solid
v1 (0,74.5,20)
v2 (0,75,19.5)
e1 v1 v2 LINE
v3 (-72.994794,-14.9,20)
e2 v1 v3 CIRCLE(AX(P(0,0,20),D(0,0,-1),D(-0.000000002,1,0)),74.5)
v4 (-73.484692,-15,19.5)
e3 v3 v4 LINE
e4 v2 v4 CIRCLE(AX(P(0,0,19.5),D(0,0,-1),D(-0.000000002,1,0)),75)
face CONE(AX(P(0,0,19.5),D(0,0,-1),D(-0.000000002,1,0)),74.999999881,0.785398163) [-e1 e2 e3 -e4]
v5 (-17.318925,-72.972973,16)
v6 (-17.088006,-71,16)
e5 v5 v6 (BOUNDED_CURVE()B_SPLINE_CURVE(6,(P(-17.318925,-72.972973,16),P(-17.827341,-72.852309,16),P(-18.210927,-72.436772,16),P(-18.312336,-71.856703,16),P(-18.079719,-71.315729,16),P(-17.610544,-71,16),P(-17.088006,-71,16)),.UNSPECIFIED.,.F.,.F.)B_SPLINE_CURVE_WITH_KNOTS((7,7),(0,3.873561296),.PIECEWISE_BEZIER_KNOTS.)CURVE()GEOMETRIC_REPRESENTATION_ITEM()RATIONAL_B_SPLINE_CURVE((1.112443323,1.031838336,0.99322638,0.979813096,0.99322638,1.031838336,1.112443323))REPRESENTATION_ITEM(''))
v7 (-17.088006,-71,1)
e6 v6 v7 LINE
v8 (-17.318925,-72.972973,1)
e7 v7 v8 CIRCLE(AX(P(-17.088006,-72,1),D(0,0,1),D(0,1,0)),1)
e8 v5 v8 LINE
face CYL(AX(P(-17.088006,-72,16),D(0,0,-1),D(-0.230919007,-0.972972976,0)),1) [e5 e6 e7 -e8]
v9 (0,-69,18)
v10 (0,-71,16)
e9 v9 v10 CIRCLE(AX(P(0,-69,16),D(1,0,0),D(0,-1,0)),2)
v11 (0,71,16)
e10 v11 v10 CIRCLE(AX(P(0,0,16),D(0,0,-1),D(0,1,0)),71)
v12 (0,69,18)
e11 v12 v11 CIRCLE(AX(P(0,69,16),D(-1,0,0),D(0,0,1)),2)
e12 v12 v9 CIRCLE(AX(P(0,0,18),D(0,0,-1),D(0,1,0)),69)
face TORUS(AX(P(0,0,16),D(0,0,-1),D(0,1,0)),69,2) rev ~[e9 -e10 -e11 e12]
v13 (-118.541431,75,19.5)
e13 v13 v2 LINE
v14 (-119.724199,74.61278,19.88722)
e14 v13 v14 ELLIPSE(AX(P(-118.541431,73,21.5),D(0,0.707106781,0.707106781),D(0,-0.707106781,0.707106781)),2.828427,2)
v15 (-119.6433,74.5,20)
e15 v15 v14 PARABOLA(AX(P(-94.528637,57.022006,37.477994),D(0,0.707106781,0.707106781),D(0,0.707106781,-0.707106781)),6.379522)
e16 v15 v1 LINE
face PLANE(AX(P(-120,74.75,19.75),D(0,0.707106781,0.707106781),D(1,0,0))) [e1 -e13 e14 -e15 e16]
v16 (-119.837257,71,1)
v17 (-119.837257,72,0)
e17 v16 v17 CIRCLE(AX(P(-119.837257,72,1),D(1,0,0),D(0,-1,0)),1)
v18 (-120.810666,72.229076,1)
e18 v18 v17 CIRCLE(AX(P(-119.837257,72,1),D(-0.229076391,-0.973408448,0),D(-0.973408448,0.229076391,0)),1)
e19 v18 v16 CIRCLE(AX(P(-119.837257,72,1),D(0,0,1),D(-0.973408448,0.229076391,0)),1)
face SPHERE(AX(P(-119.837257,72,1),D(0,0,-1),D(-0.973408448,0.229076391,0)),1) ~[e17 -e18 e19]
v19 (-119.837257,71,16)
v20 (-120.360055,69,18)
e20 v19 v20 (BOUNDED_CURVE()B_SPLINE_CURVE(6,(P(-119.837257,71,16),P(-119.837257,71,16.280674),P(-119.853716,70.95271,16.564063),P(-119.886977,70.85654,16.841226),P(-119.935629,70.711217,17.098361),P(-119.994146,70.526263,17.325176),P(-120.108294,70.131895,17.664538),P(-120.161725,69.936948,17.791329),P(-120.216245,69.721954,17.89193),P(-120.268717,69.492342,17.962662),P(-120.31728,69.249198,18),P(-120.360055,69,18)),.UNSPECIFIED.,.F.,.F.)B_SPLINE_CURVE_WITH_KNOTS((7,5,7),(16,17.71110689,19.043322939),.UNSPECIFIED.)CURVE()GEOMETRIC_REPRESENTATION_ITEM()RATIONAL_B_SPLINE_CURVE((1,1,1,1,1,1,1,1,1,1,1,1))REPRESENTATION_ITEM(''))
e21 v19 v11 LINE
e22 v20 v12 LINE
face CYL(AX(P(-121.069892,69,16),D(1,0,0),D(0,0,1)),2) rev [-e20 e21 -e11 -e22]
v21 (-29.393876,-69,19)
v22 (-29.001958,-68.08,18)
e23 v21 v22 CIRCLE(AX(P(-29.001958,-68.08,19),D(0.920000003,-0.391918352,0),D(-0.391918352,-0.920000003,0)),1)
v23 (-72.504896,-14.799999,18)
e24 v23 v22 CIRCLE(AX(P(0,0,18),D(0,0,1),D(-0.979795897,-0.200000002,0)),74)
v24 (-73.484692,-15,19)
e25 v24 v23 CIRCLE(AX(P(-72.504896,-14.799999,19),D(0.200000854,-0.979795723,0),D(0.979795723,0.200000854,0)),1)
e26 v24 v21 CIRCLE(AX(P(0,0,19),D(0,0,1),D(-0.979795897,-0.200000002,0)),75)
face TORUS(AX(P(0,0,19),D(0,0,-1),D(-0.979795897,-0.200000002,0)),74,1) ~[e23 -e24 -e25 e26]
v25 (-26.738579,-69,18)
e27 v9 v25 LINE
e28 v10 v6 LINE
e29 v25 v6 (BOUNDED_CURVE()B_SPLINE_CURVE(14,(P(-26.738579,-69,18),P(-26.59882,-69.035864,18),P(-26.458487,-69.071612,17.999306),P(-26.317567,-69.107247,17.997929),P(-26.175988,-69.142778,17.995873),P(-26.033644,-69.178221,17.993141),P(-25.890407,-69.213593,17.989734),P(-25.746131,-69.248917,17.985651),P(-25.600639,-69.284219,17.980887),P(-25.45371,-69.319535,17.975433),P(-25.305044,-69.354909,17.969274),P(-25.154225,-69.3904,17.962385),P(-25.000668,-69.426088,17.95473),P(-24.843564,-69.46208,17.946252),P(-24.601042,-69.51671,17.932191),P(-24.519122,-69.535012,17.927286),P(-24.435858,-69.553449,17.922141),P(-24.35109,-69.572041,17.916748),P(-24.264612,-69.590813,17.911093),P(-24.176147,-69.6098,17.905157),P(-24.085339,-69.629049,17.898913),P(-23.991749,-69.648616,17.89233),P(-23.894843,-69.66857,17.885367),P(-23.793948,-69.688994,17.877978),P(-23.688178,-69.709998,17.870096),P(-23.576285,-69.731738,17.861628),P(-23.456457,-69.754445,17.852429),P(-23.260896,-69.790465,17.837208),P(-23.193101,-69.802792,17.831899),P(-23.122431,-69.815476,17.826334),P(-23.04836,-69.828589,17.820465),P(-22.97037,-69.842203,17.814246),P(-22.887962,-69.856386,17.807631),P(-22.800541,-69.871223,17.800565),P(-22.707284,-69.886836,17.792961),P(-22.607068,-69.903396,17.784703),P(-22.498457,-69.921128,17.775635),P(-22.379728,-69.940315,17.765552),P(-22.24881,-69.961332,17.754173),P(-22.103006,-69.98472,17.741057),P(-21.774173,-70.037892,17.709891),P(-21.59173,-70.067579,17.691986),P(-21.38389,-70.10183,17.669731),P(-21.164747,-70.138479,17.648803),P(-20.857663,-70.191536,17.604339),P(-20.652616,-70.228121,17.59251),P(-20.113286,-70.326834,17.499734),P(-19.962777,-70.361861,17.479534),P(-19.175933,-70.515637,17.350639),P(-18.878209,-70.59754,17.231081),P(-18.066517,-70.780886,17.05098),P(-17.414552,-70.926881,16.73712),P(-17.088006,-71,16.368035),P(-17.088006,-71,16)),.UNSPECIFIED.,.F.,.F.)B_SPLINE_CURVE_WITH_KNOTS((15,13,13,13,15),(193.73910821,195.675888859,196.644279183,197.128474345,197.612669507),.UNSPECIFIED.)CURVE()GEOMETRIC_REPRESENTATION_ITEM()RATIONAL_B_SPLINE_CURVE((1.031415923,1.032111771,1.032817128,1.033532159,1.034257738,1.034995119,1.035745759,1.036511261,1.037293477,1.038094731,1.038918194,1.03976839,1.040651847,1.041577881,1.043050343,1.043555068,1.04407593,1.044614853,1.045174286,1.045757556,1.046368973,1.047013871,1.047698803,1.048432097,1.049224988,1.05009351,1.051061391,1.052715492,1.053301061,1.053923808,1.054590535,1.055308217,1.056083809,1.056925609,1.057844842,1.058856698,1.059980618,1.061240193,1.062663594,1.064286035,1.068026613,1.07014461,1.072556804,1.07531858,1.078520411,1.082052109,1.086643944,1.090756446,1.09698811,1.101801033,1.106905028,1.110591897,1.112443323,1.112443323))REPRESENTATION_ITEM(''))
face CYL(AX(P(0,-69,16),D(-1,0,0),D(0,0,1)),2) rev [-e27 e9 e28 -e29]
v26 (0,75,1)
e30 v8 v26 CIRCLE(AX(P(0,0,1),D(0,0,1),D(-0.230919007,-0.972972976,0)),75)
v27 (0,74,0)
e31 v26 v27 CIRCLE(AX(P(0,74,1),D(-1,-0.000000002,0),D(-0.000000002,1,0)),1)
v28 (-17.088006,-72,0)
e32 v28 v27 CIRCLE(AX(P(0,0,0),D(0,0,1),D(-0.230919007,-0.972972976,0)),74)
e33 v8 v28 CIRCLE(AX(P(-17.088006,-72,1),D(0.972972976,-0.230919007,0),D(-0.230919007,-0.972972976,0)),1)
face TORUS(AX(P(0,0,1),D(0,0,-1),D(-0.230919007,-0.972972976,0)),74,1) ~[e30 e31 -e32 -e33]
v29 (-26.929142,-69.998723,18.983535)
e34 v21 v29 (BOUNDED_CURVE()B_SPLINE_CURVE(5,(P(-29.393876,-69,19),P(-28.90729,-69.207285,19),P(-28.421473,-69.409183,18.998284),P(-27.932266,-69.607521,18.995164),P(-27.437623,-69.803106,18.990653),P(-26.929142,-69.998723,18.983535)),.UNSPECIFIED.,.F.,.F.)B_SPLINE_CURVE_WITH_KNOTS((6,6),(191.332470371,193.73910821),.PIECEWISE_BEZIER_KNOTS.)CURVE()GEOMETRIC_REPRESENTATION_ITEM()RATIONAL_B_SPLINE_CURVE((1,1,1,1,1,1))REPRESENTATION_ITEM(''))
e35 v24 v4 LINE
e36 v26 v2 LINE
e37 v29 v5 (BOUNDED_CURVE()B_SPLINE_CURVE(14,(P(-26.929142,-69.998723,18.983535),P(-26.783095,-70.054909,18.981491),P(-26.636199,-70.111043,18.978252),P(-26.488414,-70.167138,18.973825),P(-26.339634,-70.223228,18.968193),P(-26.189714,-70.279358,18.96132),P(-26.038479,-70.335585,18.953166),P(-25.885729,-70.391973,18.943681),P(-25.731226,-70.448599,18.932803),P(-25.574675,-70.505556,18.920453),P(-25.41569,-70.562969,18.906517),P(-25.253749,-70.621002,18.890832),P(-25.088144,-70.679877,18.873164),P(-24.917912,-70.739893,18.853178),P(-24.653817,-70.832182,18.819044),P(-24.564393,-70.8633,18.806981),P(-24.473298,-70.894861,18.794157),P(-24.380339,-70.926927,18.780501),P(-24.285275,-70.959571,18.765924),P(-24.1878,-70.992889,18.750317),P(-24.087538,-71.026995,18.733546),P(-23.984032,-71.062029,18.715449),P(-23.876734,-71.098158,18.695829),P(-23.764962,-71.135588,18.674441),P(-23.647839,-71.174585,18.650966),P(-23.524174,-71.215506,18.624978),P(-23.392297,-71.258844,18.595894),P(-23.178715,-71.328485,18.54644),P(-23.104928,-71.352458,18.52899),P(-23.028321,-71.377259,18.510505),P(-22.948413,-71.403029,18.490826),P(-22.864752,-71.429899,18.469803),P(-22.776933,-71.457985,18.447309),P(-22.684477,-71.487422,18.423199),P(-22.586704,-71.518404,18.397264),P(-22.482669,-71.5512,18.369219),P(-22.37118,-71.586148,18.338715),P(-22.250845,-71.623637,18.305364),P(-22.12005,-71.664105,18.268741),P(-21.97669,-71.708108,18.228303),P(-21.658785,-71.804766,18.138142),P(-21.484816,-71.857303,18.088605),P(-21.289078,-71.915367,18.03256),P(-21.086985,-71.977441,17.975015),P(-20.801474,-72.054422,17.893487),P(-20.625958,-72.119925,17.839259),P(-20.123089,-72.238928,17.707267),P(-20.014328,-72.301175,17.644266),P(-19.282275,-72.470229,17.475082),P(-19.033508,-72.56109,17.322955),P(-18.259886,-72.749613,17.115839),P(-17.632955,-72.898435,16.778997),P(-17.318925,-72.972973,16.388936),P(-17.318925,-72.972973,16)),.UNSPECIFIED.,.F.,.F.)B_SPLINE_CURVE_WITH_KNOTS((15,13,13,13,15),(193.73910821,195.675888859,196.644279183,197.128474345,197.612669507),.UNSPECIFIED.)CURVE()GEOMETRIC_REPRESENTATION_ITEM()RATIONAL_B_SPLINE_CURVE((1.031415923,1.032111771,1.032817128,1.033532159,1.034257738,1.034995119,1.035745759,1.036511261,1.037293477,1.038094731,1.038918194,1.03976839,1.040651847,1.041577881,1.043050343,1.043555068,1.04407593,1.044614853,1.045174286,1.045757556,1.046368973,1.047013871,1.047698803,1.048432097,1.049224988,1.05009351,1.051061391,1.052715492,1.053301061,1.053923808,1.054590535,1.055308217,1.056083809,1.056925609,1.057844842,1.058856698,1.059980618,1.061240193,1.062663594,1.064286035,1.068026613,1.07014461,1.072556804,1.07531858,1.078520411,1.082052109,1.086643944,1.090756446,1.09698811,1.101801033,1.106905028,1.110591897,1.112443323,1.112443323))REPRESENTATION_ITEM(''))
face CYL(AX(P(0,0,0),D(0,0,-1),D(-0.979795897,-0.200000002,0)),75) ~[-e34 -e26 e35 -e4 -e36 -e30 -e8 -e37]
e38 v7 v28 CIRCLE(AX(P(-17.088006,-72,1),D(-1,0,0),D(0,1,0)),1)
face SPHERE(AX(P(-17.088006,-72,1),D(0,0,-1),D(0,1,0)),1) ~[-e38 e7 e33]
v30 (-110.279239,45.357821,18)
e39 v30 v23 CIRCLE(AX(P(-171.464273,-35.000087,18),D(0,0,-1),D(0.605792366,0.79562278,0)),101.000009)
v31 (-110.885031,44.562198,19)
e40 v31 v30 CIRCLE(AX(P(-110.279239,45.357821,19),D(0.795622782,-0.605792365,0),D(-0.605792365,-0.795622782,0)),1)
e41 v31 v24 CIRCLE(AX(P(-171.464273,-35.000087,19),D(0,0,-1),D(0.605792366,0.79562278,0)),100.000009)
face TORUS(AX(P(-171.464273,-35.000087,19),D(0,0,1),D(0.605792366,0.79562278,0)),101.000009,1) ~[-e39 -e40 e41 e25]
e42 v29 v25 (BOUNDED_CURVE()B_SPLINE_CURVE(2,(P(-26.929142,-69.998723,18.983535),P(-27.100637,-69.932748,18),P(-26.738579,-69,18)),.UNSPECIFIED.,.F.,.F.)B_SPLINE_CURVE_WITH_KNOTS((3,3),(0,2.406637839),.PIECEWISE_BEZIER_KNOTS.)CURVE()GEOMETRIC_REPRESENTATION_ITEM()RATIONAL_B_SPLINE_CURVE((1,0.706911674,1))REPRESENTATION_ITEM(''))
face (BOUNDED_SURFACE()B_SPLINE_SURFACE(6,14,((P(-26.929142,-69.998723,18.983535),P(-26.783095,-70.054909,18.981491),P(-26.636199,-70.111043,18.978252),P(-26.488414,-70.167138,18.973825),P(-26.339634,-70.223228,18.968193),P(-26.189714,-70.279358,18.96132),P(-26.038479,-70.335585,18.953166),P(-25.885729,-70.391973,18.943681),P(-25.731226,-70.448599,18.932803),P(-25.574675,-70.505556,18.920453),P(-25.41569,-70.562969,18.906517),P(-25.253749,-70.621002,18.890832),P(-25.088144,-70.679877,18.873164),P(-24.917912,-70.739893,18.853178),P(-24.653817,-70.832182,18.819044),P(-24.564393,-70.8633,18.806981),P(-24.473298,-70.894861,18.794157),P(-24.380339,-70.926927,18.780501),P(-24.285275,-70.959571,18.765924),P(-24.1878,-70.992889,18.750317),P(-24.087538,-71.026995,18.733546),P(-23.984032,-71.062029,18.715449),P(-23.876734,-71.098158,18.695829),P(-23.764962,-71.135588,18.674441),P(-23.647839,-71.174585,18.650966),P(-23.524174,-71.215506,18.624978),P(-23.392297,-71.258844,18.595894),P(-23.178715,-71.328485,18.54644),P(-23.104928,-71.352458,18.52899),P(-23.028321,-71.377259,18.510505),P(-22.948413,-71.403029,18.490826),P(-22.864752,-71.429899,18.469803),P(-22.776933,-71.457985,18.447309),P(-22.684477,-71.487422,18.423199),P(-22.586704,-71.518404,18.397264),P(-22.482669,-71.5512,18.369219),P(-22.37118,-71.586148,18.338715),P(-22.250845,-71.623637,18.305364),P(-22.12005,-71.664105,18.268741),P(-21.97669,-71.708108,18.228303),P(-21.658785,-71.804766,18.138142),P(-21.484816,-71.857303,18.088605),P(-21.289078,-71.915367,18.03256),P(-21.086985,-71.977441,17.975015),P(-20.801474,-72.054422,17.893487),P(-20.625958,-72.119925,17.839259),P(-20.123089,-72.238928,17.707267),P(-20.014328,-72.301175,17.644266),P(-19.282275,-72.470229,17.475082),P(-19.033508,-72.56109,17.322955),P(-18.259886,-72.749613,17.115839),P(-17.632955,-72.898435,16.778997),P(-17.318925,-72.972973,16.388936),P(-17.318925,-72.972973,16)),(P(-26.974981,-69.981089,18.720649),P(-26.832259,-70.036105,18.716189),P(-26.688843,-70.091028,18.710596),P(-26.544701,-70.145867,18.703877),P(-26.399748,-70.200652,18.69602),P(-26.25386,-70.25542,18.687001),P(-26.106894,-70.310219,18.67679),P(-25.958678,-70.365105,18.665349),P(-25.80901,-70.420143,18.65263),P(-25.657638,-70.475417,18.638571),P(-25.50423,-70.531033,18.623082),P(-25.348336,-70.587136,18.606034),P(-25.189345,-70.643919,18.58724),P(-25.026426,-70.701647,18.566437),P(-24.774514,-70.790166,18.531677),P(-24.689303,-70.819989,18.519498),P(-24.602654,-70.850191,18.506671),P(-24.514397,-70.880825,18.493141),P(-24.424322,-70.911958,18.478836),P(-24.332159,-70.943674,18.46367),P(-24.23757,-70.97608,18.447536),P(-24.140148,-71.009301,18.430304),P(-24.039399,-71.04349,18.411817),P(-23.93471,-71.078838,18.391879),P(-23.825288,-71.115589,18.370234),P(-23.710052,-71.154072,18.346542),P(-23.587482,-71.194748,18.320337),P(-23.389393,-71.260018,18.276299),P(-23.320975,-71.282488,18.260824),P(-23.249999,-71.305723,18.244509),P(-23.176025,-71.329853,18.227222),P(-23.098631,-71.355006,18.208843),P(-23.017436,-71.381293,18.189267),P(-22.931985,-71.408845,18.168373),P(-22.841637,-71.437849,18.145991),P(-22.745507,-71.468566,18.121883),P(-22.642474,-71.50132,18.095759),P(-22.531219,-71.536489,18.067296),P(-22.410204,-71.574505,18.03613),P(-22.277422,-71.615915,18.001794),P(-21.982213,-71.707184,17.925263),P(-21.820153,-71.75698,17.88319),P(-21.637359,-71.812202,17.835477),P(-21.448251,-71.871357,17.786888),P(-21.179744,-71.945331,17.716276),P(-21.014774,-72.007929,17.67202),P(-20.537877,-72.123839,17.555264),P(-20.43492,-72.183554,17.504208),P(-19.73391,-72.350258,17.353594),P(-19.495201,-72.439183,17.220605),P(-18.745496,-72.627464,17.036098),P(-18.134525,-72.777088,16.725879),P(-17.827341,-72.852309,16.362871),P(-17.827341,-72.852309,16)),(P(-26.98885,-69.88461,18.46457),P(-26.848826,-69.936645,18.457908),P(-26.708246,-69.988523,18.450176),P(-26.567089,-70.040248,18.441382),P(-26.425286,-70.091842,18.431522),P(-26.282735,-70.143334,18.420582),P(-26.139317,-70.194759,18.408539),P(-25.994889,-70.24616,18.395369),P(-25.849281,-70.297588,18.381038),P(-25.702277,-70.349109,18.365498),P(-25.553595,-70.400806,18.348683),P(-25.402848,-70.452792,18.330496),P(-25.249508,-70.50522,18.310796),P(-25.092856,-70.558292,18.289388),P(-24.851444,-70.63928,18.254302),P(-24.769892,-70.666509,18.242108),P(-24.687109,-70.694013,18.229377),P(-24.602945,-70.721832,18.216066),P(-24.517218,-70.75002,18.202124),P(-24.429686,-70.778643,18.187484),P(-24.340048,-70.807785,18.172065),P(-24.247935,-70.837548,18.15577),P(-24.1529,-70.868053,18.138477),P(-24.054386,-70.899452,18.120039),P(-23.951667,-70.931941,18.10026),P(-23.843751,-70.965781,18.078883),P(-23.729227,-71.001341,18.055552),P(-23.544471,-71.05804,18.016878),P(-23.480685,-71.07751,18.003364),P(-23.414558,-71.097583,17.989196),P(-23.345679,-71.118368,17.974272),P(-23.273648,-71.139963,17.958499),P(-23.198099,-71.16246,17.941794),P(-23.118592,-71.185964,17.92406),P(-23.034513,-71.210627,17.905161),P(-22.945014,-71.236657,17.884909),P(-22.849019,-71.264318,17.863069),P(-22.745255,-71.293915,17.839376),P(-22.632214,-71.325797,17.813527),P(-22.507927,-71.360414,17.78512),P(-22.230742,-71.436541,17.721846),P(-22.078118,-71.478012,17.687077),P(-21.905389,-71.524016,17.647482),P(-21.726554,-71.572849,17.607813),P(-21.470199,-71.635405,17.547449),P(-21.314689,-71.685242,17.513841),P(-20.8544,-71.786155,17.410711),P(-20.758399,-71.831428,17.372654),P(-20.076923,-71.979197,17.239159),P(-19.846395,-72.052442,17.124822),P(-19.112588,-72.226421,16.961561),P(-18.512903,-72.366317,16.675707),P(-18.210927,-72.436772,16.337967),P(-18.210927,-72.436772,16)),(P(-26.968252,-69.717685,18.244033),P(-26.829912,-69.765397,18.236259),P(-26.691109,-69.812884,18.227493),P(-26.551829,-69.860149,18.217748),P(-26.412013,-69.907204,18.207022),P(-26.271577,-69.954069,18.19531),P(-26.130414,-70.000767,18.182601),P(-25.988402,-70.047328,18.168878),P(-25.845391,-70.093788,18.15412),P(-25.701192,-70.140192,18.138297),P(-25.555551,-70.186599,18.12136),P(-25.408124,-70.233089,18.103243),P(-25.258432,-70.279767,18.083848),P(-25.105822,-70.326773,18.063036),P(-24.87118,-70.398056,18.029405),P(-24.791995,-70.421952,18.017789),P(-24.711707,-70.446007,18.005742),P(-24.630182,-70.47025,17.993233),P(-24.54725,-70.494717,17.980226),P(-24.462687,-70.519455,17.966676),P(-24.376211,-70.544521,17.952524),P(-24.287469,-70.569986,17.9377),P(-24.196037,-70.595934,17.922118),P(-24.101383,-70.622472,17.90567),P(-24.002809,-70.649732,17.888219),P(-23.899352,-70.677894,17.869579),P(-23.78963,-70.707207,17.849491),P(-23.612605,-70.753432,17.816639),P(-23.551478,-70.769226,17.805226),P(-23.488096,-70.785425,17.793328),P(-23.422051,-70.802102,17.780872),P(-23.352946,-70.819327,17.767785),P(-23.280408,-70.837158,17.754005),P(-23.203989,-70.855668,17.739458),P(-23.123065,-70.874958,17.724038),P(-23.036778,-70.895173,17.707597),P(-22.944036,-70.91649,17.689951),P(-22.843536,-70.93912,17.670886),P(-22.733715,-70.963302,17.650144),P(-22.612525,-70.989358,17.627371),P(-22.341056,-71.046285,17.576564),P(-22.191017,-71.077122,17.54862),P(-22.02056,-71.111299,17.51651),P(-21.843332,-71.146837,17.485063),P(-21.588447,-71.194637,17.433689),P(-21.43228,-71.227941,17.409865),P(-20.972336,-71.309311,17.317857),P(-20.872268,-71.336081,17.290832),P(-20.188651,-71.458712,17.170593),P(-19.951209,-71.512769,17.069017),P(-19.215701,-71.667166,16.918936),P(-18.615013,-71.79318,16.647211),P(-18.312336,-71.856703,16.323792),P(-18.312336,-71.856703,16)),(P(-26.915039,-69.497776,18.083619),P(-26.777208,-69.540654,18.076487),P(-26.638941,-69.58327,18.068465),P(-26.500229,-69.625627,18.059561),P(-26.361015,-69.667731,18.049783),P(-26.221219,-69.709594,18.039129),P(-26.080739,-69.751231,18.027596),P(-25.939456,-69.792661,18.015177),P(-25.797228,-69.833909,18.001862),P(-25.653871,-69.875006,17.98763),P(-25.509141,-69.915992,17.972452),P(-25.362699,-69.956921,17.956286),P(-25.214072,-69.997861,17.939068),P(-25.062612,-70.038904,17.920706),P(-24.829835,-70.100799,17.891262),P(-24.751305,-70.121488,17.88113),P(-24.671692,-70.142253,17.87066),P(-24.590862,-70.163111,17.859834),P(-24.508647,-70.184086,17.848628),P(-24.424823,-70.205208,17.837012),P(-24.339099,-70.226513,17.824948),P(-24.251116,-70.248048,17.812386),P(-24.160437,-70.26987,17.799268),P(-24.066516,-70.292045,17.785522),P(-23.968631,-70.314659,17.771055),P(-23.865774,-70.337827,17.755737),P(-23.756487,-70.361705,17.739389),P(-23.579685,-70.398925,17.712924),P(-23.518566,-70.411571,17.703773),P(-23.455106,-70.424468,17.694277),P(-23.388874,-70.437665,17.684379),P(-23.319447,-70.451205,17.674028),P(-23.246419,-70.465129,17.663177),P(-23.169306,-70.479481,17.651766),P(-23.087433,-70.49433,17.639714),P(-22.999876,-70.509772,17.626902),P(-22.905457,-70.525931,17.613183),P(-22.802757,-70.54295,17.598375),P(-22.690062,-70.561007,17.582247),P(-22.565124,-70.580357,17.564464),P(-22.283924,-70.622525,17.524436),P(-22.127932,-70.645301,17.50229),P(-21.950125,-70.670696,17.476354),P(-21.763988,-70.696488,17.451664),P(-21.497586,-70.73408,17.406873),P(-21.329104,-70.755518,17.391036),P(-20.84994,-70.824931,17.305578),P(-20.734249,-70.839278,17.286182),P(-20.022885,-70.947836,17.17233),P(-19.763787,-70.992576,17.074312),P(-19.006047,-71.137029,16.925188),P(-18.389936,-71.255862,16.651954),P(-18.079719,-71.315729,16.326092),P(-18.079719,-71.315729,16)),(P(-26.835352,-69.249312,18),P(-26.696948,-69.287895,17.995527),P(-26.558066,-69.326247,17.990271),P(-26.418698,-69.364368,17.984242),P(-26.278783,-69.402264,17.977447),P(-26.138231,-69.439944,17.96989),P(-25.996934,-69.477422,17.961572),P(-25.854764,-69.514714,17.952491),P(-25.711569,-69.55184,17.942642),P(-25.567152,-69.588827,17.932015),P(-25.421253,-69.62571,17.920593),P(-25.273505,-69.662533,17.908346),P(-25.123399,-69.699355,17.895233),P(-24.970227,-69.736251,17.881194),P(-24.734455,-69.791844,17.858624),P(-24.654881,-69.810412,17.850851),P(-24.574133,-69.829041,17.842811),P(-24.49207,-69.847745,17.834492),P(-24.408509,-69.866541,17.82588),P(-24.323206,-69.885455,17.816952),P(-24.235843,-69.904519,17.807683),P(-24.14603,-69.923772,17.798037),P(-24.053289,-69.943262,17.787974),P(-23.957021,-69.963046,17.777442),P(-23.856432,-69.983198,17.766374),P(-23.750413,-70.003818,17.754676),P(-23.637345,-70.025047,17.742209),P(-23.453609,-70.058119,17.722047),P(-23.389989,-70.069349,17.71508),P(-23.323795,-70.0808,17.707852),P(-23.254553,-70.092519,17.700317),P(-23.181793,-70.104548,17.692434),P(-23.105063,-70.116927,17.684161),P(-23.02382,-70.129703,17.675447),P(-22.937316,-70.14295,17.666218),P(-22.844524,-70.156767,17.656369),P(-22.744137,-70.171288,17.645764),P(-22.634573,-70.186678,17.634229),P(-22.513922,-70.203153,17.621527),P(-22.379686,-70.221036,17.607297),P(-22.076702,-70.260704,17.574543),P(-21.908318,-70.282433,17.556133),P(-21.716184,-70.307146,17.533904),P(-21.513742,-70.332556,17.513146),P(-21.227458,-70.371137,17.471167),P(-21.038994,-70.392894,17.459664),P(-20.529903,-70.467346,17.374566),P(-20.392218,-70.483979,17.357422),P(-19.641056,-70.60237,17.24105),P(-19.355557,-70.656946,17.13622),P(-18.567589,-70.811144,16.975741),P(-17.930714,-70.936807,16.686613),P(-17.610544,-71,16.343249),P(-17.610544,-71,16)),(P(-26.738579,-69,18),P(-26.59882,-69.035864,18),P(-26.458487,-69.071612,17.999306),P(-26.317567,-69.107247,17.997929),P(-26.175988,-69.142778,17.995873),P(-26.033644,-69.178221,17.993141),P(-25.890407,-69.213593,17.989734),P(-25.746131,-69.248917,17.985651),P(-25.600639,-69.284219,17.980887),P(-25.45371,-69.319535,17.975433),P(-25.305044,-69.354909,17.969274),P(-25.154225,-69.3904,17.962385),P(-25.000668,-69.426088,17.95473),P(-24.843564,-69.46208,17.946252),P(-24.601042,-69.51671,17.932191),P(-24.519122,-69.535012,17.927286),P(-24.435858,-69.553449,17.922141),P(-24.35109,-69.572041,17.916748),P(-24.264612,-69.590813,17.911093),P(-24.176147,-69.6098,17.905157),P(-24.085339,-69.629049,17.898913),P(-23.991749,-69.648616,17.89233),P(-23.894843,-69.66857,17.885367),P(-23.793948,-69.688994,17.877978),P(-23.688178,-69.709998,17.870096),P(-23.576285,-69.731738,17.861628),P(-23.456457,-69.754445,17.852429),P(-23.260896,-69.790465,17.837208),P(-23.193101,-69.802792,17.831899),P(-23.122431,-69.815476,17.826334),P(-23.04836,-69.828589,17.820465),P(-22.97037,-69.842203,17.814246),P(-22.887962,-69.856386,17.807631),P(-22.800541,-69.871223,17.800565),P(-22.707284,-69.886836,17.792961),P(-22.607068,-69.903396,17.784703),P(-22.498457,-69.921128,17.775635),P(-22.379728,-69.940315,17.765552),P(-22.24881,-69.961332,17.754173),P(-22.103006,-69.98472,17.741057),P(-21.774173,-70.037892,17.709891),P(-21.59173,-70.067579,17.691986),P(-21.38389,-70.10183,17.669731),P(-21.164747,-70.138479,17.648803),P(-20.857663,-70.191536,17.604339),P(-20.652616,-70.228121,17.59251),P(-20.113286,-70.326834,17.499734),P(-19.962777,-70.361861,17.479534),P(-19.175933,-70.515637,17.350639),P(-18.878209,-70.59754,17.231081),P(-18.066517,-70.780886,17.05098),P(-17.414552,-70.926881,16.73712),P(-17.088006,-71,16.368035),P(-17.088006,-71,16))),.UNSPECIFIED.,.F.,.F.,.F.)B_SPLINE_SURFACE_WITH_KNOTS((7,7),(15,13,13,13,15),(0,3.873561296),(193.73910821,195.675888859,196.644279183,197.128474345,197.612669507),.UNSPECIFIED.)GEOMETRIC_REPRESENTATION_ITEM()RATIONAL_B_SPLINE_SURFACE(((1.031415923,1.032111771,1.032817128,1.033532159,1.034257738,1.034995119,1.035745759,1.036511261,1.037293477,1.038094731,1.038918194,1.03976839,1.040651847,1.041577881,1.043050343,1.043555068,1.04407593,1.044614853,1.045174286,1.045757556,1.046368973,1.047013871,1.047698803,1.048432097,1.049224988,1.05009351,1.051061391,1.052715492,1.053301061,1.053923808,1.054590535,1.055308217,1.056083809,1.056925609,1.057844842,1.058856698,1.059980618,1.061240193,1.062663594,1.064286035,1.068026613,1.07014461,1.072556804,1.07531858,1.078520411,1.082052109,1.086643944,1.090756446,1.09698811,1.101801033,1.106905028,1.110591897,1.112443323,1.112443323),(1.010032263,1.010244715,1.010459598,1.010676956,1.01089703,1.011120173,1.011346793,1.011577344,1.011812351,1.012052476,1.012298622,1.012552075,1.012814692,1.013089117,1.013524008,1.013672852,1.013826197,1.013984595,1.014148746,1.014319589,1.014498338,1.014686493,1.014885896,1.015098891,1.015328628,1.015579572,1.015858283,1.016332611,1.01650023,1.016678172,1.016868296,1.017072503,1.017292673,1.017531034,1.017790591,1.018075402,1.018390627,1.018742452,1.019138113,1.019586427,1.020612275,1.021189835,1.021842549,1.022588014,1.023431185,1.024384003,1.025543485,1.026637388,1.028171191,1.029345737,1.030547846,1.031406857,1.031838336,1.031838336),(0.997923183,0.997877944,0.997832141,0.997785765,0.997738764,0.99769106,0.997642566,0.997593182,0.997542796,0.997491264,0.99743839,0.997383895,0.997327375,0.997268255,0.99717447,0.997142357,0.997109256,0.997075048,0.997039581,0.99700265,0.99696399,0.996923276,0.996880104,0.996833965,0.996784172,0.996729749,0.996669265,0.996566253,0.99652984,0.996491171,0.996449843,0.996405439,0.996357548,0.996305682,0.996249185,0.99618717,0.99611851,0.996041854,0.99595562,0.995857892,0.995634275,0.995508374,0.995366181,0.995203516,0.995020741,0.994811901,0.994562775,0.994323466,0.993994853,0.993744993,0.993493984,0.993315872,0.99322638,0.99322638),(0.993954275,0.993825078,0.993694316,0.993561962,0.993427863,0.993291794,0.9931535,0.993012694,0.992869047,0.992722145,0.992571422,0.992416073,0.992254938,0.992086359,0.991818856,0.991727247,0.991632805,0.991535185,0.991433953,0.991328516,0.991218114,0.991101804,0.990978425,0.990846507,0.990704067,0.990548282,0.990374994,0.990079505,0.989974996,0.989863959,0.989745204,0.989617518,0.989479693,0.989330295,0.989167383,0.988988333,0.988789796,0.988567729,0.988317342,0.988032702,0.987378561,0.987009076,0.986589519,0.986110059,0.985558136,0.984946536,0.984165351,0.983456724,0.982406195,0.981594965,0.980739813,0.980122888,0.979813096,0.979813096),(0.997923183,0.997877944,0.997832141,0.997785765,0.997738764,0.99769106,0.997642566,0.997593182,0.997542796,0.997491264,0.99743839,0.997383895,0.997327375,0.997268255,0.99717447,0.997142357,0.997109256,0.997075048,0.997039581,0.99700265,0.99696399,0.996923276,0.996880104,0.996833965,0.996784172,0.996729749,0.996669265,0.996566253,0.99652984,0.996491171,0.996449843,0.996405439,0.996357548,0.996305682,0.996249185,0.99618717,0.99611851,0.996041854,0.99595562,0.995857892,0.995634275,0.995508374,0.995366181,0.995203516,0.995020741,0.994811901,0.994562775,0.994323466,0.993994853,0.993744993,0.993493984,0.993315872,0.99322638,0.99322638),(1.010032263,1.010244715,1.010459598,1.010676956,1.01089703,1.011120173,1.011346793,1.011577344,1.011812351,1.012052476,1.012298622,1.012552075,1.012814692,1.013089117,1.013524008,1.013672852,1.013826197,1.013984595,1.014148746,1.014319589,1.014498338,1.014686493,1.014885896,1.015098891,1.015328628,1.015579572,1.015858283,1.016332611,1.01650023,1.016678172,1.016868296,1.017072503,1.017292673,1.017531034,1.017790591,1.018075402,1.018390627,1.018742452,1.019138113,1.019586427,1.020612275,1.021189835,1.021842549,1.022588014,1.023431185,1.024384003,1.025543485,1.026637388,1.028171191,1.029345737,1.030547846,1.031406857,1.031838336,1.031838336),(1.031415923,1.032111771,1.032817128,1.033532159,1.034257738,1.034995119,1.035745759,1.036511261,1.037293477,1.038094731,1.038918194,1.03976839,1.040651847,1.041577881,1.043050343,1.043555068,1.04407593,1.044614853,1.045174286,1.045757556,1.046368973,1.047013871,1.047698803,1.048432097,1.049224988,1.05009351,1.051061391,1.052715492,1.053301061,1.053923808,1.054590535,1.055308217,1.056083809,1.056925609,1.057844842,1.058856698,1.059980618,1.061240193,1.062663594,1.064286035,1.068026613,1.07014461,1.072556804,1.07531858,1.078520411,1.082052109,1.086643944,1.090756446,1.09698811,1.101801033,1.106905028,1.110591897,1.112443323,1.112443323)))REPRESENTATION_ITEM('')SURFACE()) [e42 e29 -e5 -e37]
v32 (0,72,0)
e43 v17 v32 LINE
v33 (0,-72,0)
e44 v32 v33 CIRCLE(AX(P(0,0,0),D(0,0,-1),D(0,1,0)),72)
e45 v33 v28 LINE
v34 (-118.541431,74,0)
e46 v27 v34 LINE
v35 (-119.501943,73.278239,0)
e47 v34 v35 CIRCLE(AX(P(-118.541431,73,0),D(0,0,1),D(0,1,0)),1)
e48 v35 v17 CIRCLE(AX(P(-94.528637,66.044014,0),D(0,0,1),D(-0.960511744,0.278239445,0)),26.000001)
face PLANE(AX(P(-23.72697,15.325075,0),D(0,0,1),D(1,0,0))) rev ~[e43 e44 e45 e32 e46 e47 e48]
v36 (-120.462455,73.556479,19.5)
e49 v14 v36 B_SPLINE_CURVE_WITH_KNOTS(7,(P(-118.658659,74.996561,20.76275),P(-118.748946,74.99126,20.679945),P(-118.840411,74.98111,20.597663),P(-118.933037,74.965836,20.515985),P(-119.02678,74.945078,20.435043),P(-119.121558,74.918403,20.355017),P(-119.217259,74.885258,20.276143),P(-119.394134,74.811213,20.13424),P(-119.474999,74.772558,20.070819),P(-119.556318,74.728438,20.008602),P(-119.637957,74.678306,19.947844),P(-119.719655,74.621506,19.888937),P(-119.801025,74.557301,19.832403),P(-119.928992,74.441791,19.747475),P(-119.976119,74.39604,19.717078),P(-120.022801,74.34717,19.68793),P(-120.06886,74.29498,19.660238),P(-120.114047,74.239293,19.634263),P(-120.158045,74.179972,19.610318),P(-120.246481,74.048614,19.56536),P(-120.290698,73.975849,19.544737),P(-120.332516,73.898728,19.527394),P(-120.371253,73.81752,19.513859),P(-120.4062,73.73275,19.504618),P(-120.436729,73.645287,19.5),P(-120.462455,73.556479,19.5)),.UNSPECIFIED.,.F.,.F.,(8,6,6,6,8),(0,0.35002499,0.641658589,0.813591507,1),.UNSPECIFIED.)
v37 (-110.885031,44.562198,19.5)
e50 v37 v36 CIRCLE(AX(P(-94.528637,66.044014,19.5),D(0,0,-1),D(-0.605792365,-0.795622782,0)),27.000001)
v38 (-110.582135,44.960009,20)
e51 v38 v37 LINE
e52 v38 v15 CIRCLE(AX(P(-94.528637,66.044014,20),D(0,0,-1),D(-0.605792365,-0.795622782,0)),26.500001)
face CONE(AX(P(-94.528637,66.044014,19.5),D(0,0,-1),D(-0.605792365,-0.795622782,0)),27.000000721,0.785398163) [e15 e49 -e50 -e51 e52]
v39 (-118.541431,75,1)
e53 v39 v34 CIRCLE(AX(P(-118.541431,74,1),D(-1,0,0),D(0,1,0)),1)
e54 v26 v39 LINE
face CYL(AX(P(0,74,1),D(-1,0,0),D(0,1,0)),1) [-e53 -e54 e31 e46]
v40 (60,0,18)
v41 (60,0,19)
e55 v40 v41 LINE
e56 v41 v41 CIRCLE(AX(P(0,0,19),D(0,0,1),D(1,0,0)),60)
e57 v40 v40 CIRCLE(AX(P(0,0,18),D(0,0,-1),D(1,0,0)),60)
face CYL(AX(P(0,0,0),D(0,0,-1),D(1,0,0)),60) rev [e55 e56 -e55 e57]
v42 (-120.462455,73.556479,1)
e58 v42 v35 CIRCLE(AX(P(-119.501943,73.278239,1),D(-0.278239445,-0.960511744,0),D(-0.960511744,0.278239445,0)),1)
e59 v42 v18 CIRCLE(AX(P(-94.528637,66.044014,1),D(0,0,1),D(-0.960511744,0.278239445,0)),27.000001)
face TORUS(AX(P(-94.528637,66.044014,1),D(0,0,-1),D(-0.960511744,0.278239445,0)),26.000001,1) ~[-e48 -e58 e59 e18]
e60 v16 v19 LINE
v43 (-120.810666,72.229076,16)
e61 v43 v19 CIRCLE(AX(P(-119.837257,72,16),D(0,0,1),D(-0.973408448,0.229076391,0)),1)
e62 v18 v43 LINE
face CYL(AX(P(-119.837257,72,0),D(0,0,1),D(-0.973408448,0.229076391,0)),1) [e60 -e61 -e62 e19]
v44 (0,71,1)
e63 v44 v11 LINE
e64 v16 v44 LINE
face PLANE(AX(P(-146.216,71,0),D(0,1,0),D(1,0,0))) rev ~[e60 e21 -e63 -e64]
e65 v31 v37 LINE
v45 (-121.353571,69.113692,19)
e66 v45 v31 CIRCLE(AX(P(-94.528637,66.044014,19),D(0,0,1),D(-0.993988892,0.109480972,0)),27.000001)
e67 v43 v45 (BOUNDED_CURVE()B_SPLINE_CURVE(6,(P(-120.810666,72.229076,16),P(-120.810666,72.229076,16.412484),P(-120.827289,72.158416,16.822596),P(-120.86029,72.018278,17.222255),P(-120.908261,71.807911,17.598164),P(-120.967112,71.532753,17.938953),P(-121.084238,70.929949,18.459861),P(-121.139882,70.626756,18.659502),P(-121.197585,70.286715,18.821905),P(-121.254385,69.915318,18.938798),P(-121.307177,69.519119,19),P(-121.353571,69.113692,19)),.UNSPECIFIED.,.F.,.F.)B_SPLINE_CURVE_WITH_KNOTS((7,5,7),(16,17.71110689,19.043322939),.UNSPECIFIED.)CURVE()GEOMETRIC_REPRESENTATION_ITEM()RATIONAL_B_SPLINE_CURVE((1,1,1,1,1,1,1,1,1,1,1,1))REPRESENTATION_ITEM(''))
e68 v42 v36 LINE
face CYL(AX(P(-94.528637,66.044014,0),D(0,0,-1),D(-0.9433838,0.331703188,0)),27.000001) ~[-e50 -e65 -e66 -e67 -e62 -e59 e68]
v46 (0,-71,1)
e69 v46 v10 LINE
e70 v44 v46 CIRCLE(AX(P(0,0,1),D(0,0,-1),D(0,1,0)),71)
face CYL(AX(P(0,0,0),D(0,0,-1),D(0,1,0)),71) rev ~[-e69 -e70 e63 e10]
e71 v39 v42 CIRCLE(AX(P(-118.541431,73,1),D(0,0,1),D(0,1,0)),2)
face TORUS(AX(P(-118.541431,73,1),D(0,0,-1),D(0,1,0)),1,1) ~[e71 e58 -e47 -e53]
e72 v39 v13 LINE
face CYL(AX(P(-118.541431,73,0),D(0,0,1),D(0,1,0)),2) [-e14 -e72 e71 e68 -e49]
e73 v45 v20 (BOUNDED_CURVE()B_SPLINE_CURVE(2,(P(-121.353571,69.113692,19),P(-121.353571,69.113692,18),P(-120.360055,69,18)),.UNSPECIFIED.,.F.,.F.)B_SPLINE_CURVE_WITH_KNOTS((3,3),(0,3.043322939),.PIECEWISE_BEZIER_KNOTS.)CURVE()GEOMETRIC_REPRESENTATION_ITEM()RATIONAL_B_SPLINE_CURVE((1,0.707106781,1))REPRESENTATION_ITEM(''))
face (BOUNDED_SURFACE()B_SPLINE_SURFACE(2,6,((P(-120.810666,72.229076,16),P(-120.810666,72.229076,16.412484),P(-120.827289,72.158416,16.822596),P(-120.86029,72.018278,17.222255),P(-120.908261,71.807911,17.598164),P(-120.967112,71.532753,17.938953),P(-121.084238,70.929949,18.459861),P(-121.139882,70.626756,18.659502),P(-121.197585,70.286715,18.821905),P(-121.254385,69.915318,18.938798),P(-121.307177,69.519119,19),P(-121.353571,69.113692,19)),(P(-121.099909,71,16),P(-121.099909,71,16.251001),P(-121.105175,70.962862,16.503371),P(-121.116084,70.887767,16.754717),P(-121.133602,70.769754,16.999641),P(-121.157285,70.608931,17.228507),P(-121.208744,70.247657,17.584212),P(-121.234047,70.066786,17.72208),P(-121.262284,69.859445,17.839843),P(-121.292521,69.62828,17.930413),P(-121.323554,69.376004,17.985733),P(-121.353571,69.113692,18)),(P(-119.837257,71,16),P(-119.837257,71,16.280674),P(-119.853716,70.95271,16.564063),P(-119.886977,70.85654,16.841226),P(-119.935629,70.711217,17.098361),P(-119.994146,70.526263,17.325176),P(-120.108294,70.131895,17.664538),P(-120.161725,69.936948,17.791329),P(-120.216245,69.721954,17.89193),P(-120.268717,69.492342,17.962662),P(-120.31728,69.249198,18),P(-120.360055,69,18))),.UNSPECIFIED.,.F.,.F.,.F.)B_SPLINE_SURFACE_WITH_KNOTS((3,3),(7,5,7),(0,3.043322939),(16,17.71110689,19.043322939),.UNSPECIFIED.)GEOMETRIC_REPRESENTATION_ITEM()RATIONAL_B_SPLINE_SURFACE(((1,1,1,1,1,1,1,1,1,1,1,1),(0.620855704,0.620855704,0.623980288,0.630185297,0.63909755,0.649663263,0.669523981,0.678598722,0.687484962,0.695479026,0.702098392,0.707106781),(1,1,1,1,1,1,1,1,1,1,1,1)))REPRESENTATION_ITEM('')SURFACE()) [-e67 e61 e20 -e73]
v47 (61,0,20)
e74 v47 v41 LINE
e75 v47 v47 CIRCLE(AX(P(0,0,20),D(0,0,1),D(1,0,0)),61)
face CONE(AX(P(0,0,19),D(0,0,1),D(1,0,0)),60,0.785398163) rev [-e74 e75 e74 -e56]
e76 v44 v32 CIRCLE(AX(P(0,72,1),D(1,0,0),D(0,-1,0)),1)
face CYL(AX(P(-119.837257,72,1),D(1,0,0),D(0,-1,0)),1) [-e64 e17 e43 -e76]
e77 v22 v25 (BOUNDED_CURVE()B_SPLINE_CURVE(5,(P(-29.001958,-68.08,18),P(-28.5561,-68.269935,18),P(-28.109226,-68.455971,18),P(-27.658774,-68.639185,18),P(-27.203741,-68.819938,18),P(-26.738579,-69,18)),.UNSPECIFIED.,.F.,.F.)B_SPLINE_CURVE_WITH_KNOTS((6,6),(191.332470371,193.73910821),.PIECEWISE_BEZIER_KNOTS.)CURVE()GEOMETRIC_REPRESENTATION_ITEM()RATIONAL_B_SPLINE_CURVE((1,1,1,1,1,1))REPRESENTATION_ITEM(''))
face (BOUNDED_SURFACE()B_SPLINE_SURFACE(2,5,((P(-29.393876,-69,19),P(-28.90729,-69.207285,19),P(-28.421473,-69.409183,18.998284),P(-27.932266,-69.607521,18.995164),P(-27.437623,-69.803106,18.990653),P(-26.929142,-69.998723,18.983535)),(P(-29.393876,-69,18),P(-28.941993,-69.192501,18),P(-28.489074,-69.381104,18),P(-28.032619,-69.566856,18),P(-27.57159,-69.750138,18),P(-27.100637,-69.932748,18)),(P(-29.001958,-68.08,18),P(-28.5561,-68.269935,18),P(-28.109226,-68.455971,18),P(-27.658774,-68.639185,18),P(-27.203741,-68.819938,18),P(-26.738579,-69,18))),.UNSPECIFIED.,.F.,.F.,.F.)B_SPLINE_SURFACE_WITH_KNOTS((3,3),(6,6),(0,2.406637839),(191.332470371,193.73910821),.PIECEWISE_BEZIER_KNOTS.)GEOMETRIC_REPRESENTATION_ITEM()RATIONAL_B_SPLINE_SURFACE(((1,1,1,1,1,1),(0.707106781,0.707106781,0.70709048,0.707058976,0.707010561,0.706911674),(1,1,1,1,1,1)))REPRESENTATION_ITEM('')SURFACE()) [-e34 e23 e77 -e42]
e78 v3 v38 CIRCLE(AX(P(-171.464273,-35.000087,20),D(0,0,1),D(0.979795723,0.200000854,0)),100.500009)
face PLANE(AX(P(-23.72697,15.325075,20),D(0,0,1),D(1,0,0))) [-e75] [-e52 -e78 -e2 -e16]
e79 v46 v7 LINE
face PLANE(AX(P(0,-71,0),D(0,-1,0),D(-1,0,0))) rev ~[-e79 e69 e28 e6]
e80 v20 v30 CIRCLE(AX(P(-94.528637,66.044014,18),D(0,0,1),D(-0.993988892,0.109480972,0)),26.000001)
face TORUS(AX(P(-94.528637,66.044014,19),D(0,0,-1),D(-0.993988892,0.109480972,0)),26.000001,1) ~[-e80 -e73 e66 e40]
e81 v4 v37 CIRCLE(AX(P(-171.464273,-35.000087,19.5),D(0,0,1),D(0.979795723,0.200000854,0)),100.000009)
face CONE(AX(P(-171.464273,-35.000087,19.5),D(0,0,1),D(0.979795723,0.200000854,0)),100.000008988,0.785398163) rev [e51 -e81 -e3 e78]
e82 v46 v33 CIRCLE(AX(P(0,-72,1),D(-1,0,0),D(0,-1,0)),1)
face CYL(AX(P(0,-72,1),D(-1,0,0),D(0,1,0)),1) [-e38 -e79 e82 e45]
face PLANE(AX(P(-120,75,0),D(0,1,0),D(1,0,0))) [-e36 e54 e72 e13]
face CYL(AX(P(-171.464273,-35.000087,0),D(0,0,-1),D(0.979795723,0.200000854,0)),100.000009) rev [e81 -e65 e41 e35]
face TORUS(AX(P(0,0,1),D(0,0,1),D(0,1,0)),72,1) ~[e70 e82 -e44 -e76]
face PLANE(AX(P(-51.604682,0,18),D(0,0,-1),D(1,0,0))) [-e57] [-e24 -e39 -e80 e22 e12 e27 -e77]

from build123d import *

# Parameters (mm, degrees)
SKETCH_R        = 60
PAD_DEPTH       = 20
POCKET_DEPTH    = 18
FILLET_R        = 2
FILLET001_R     = 1
CHAMFER_SIZE    = 0.5
FILLET002_R     = 2
FILLET003_R     = 1
CHAMFER001_SIZE = 1


with BuildPart() as part:
    # Sketch → Pad (new body)
    with BuildSketch(Plane.XY):
        with BuildLine():
            ThreePointArc((-73.484692, -15), (58.09475, -47.434165), (0, 75))
            Line((-120, 75), (0, 75))
            ThreePointArc((-120, 75), (-120.393773, 58.298385), (-110.885031, 44.562198))
            ThreePointArc((-73.484692, -15), (-86.775791, 18.177566), (-110.885031, 44.562198))
        make_face()
        Circle(SKETCH_R, mode=Mode.SUBTRACT)
    extrude(amount=PAD_DEPTH)

    # Sketch001 → Pocket (cut)
    with BuildSketch(Plane(origin=(0, 0, 0), x_dir=(1, 0, 0), z_dir=(0, 0, -1))):
        with BuildLine():
            Line((-146.216, -71), (0, -71))
            ThreePointArc((0, -71), (71, 0), (0, 71))
            Line((0, 71), (-146.216, 71))
            Line((-146.216, -71), (-146.216, 71))
        make_face()
    extrude(amount=-POCKET_DEPTH, mode=Mode.SUBTRACT)

    # Fillet
    fillet_edges = [part.edges().sort_by_distance(p)[0] for p in [
        (71, 0, 18),
    ]]
    fillet(fillet_edges, radius=FILLET_R)

    # Fillet001
    fillet001_edges = [part.edges().sort_by_distance(p)[0] for p in [
        (-24.166092, -71, 8),
    ]]
    fillet(fillet001_edges, radius=FILLET001_R)

    # Chamfer
    chamfer_edges = [part.edges().sort_by_distance(p)[0] for p in [
        (-60, 75, 20),
    ]]
    chamfer(chamfer_edges, length=CHAMFER_SIZE)

    # Fillet002
    fillet002_edges = [part.edges().sort_by_distance(p)[0] for p in [
        (-120, 75, 9.75),
    ]]
    fillet(fillet002_edges, radius=FILLET002_R)

    # Fillet003
    fillet003_edges = [part.edges().sort_by_distance(p)[0] for p in [
        (74.49152, -8.718573, 0),
    ]]
    fillet(fillet003_edges, radius=FILLET003_R)

    # Chamfer001
    chamfer001_edges = [part.edges().sort_by_distance(p)[0] for p in [
        (-60, 0, 20),
    ]]
    chamfer(chamfer001_edges, length=CHAMFER001_SIZE)


solid = part.part
